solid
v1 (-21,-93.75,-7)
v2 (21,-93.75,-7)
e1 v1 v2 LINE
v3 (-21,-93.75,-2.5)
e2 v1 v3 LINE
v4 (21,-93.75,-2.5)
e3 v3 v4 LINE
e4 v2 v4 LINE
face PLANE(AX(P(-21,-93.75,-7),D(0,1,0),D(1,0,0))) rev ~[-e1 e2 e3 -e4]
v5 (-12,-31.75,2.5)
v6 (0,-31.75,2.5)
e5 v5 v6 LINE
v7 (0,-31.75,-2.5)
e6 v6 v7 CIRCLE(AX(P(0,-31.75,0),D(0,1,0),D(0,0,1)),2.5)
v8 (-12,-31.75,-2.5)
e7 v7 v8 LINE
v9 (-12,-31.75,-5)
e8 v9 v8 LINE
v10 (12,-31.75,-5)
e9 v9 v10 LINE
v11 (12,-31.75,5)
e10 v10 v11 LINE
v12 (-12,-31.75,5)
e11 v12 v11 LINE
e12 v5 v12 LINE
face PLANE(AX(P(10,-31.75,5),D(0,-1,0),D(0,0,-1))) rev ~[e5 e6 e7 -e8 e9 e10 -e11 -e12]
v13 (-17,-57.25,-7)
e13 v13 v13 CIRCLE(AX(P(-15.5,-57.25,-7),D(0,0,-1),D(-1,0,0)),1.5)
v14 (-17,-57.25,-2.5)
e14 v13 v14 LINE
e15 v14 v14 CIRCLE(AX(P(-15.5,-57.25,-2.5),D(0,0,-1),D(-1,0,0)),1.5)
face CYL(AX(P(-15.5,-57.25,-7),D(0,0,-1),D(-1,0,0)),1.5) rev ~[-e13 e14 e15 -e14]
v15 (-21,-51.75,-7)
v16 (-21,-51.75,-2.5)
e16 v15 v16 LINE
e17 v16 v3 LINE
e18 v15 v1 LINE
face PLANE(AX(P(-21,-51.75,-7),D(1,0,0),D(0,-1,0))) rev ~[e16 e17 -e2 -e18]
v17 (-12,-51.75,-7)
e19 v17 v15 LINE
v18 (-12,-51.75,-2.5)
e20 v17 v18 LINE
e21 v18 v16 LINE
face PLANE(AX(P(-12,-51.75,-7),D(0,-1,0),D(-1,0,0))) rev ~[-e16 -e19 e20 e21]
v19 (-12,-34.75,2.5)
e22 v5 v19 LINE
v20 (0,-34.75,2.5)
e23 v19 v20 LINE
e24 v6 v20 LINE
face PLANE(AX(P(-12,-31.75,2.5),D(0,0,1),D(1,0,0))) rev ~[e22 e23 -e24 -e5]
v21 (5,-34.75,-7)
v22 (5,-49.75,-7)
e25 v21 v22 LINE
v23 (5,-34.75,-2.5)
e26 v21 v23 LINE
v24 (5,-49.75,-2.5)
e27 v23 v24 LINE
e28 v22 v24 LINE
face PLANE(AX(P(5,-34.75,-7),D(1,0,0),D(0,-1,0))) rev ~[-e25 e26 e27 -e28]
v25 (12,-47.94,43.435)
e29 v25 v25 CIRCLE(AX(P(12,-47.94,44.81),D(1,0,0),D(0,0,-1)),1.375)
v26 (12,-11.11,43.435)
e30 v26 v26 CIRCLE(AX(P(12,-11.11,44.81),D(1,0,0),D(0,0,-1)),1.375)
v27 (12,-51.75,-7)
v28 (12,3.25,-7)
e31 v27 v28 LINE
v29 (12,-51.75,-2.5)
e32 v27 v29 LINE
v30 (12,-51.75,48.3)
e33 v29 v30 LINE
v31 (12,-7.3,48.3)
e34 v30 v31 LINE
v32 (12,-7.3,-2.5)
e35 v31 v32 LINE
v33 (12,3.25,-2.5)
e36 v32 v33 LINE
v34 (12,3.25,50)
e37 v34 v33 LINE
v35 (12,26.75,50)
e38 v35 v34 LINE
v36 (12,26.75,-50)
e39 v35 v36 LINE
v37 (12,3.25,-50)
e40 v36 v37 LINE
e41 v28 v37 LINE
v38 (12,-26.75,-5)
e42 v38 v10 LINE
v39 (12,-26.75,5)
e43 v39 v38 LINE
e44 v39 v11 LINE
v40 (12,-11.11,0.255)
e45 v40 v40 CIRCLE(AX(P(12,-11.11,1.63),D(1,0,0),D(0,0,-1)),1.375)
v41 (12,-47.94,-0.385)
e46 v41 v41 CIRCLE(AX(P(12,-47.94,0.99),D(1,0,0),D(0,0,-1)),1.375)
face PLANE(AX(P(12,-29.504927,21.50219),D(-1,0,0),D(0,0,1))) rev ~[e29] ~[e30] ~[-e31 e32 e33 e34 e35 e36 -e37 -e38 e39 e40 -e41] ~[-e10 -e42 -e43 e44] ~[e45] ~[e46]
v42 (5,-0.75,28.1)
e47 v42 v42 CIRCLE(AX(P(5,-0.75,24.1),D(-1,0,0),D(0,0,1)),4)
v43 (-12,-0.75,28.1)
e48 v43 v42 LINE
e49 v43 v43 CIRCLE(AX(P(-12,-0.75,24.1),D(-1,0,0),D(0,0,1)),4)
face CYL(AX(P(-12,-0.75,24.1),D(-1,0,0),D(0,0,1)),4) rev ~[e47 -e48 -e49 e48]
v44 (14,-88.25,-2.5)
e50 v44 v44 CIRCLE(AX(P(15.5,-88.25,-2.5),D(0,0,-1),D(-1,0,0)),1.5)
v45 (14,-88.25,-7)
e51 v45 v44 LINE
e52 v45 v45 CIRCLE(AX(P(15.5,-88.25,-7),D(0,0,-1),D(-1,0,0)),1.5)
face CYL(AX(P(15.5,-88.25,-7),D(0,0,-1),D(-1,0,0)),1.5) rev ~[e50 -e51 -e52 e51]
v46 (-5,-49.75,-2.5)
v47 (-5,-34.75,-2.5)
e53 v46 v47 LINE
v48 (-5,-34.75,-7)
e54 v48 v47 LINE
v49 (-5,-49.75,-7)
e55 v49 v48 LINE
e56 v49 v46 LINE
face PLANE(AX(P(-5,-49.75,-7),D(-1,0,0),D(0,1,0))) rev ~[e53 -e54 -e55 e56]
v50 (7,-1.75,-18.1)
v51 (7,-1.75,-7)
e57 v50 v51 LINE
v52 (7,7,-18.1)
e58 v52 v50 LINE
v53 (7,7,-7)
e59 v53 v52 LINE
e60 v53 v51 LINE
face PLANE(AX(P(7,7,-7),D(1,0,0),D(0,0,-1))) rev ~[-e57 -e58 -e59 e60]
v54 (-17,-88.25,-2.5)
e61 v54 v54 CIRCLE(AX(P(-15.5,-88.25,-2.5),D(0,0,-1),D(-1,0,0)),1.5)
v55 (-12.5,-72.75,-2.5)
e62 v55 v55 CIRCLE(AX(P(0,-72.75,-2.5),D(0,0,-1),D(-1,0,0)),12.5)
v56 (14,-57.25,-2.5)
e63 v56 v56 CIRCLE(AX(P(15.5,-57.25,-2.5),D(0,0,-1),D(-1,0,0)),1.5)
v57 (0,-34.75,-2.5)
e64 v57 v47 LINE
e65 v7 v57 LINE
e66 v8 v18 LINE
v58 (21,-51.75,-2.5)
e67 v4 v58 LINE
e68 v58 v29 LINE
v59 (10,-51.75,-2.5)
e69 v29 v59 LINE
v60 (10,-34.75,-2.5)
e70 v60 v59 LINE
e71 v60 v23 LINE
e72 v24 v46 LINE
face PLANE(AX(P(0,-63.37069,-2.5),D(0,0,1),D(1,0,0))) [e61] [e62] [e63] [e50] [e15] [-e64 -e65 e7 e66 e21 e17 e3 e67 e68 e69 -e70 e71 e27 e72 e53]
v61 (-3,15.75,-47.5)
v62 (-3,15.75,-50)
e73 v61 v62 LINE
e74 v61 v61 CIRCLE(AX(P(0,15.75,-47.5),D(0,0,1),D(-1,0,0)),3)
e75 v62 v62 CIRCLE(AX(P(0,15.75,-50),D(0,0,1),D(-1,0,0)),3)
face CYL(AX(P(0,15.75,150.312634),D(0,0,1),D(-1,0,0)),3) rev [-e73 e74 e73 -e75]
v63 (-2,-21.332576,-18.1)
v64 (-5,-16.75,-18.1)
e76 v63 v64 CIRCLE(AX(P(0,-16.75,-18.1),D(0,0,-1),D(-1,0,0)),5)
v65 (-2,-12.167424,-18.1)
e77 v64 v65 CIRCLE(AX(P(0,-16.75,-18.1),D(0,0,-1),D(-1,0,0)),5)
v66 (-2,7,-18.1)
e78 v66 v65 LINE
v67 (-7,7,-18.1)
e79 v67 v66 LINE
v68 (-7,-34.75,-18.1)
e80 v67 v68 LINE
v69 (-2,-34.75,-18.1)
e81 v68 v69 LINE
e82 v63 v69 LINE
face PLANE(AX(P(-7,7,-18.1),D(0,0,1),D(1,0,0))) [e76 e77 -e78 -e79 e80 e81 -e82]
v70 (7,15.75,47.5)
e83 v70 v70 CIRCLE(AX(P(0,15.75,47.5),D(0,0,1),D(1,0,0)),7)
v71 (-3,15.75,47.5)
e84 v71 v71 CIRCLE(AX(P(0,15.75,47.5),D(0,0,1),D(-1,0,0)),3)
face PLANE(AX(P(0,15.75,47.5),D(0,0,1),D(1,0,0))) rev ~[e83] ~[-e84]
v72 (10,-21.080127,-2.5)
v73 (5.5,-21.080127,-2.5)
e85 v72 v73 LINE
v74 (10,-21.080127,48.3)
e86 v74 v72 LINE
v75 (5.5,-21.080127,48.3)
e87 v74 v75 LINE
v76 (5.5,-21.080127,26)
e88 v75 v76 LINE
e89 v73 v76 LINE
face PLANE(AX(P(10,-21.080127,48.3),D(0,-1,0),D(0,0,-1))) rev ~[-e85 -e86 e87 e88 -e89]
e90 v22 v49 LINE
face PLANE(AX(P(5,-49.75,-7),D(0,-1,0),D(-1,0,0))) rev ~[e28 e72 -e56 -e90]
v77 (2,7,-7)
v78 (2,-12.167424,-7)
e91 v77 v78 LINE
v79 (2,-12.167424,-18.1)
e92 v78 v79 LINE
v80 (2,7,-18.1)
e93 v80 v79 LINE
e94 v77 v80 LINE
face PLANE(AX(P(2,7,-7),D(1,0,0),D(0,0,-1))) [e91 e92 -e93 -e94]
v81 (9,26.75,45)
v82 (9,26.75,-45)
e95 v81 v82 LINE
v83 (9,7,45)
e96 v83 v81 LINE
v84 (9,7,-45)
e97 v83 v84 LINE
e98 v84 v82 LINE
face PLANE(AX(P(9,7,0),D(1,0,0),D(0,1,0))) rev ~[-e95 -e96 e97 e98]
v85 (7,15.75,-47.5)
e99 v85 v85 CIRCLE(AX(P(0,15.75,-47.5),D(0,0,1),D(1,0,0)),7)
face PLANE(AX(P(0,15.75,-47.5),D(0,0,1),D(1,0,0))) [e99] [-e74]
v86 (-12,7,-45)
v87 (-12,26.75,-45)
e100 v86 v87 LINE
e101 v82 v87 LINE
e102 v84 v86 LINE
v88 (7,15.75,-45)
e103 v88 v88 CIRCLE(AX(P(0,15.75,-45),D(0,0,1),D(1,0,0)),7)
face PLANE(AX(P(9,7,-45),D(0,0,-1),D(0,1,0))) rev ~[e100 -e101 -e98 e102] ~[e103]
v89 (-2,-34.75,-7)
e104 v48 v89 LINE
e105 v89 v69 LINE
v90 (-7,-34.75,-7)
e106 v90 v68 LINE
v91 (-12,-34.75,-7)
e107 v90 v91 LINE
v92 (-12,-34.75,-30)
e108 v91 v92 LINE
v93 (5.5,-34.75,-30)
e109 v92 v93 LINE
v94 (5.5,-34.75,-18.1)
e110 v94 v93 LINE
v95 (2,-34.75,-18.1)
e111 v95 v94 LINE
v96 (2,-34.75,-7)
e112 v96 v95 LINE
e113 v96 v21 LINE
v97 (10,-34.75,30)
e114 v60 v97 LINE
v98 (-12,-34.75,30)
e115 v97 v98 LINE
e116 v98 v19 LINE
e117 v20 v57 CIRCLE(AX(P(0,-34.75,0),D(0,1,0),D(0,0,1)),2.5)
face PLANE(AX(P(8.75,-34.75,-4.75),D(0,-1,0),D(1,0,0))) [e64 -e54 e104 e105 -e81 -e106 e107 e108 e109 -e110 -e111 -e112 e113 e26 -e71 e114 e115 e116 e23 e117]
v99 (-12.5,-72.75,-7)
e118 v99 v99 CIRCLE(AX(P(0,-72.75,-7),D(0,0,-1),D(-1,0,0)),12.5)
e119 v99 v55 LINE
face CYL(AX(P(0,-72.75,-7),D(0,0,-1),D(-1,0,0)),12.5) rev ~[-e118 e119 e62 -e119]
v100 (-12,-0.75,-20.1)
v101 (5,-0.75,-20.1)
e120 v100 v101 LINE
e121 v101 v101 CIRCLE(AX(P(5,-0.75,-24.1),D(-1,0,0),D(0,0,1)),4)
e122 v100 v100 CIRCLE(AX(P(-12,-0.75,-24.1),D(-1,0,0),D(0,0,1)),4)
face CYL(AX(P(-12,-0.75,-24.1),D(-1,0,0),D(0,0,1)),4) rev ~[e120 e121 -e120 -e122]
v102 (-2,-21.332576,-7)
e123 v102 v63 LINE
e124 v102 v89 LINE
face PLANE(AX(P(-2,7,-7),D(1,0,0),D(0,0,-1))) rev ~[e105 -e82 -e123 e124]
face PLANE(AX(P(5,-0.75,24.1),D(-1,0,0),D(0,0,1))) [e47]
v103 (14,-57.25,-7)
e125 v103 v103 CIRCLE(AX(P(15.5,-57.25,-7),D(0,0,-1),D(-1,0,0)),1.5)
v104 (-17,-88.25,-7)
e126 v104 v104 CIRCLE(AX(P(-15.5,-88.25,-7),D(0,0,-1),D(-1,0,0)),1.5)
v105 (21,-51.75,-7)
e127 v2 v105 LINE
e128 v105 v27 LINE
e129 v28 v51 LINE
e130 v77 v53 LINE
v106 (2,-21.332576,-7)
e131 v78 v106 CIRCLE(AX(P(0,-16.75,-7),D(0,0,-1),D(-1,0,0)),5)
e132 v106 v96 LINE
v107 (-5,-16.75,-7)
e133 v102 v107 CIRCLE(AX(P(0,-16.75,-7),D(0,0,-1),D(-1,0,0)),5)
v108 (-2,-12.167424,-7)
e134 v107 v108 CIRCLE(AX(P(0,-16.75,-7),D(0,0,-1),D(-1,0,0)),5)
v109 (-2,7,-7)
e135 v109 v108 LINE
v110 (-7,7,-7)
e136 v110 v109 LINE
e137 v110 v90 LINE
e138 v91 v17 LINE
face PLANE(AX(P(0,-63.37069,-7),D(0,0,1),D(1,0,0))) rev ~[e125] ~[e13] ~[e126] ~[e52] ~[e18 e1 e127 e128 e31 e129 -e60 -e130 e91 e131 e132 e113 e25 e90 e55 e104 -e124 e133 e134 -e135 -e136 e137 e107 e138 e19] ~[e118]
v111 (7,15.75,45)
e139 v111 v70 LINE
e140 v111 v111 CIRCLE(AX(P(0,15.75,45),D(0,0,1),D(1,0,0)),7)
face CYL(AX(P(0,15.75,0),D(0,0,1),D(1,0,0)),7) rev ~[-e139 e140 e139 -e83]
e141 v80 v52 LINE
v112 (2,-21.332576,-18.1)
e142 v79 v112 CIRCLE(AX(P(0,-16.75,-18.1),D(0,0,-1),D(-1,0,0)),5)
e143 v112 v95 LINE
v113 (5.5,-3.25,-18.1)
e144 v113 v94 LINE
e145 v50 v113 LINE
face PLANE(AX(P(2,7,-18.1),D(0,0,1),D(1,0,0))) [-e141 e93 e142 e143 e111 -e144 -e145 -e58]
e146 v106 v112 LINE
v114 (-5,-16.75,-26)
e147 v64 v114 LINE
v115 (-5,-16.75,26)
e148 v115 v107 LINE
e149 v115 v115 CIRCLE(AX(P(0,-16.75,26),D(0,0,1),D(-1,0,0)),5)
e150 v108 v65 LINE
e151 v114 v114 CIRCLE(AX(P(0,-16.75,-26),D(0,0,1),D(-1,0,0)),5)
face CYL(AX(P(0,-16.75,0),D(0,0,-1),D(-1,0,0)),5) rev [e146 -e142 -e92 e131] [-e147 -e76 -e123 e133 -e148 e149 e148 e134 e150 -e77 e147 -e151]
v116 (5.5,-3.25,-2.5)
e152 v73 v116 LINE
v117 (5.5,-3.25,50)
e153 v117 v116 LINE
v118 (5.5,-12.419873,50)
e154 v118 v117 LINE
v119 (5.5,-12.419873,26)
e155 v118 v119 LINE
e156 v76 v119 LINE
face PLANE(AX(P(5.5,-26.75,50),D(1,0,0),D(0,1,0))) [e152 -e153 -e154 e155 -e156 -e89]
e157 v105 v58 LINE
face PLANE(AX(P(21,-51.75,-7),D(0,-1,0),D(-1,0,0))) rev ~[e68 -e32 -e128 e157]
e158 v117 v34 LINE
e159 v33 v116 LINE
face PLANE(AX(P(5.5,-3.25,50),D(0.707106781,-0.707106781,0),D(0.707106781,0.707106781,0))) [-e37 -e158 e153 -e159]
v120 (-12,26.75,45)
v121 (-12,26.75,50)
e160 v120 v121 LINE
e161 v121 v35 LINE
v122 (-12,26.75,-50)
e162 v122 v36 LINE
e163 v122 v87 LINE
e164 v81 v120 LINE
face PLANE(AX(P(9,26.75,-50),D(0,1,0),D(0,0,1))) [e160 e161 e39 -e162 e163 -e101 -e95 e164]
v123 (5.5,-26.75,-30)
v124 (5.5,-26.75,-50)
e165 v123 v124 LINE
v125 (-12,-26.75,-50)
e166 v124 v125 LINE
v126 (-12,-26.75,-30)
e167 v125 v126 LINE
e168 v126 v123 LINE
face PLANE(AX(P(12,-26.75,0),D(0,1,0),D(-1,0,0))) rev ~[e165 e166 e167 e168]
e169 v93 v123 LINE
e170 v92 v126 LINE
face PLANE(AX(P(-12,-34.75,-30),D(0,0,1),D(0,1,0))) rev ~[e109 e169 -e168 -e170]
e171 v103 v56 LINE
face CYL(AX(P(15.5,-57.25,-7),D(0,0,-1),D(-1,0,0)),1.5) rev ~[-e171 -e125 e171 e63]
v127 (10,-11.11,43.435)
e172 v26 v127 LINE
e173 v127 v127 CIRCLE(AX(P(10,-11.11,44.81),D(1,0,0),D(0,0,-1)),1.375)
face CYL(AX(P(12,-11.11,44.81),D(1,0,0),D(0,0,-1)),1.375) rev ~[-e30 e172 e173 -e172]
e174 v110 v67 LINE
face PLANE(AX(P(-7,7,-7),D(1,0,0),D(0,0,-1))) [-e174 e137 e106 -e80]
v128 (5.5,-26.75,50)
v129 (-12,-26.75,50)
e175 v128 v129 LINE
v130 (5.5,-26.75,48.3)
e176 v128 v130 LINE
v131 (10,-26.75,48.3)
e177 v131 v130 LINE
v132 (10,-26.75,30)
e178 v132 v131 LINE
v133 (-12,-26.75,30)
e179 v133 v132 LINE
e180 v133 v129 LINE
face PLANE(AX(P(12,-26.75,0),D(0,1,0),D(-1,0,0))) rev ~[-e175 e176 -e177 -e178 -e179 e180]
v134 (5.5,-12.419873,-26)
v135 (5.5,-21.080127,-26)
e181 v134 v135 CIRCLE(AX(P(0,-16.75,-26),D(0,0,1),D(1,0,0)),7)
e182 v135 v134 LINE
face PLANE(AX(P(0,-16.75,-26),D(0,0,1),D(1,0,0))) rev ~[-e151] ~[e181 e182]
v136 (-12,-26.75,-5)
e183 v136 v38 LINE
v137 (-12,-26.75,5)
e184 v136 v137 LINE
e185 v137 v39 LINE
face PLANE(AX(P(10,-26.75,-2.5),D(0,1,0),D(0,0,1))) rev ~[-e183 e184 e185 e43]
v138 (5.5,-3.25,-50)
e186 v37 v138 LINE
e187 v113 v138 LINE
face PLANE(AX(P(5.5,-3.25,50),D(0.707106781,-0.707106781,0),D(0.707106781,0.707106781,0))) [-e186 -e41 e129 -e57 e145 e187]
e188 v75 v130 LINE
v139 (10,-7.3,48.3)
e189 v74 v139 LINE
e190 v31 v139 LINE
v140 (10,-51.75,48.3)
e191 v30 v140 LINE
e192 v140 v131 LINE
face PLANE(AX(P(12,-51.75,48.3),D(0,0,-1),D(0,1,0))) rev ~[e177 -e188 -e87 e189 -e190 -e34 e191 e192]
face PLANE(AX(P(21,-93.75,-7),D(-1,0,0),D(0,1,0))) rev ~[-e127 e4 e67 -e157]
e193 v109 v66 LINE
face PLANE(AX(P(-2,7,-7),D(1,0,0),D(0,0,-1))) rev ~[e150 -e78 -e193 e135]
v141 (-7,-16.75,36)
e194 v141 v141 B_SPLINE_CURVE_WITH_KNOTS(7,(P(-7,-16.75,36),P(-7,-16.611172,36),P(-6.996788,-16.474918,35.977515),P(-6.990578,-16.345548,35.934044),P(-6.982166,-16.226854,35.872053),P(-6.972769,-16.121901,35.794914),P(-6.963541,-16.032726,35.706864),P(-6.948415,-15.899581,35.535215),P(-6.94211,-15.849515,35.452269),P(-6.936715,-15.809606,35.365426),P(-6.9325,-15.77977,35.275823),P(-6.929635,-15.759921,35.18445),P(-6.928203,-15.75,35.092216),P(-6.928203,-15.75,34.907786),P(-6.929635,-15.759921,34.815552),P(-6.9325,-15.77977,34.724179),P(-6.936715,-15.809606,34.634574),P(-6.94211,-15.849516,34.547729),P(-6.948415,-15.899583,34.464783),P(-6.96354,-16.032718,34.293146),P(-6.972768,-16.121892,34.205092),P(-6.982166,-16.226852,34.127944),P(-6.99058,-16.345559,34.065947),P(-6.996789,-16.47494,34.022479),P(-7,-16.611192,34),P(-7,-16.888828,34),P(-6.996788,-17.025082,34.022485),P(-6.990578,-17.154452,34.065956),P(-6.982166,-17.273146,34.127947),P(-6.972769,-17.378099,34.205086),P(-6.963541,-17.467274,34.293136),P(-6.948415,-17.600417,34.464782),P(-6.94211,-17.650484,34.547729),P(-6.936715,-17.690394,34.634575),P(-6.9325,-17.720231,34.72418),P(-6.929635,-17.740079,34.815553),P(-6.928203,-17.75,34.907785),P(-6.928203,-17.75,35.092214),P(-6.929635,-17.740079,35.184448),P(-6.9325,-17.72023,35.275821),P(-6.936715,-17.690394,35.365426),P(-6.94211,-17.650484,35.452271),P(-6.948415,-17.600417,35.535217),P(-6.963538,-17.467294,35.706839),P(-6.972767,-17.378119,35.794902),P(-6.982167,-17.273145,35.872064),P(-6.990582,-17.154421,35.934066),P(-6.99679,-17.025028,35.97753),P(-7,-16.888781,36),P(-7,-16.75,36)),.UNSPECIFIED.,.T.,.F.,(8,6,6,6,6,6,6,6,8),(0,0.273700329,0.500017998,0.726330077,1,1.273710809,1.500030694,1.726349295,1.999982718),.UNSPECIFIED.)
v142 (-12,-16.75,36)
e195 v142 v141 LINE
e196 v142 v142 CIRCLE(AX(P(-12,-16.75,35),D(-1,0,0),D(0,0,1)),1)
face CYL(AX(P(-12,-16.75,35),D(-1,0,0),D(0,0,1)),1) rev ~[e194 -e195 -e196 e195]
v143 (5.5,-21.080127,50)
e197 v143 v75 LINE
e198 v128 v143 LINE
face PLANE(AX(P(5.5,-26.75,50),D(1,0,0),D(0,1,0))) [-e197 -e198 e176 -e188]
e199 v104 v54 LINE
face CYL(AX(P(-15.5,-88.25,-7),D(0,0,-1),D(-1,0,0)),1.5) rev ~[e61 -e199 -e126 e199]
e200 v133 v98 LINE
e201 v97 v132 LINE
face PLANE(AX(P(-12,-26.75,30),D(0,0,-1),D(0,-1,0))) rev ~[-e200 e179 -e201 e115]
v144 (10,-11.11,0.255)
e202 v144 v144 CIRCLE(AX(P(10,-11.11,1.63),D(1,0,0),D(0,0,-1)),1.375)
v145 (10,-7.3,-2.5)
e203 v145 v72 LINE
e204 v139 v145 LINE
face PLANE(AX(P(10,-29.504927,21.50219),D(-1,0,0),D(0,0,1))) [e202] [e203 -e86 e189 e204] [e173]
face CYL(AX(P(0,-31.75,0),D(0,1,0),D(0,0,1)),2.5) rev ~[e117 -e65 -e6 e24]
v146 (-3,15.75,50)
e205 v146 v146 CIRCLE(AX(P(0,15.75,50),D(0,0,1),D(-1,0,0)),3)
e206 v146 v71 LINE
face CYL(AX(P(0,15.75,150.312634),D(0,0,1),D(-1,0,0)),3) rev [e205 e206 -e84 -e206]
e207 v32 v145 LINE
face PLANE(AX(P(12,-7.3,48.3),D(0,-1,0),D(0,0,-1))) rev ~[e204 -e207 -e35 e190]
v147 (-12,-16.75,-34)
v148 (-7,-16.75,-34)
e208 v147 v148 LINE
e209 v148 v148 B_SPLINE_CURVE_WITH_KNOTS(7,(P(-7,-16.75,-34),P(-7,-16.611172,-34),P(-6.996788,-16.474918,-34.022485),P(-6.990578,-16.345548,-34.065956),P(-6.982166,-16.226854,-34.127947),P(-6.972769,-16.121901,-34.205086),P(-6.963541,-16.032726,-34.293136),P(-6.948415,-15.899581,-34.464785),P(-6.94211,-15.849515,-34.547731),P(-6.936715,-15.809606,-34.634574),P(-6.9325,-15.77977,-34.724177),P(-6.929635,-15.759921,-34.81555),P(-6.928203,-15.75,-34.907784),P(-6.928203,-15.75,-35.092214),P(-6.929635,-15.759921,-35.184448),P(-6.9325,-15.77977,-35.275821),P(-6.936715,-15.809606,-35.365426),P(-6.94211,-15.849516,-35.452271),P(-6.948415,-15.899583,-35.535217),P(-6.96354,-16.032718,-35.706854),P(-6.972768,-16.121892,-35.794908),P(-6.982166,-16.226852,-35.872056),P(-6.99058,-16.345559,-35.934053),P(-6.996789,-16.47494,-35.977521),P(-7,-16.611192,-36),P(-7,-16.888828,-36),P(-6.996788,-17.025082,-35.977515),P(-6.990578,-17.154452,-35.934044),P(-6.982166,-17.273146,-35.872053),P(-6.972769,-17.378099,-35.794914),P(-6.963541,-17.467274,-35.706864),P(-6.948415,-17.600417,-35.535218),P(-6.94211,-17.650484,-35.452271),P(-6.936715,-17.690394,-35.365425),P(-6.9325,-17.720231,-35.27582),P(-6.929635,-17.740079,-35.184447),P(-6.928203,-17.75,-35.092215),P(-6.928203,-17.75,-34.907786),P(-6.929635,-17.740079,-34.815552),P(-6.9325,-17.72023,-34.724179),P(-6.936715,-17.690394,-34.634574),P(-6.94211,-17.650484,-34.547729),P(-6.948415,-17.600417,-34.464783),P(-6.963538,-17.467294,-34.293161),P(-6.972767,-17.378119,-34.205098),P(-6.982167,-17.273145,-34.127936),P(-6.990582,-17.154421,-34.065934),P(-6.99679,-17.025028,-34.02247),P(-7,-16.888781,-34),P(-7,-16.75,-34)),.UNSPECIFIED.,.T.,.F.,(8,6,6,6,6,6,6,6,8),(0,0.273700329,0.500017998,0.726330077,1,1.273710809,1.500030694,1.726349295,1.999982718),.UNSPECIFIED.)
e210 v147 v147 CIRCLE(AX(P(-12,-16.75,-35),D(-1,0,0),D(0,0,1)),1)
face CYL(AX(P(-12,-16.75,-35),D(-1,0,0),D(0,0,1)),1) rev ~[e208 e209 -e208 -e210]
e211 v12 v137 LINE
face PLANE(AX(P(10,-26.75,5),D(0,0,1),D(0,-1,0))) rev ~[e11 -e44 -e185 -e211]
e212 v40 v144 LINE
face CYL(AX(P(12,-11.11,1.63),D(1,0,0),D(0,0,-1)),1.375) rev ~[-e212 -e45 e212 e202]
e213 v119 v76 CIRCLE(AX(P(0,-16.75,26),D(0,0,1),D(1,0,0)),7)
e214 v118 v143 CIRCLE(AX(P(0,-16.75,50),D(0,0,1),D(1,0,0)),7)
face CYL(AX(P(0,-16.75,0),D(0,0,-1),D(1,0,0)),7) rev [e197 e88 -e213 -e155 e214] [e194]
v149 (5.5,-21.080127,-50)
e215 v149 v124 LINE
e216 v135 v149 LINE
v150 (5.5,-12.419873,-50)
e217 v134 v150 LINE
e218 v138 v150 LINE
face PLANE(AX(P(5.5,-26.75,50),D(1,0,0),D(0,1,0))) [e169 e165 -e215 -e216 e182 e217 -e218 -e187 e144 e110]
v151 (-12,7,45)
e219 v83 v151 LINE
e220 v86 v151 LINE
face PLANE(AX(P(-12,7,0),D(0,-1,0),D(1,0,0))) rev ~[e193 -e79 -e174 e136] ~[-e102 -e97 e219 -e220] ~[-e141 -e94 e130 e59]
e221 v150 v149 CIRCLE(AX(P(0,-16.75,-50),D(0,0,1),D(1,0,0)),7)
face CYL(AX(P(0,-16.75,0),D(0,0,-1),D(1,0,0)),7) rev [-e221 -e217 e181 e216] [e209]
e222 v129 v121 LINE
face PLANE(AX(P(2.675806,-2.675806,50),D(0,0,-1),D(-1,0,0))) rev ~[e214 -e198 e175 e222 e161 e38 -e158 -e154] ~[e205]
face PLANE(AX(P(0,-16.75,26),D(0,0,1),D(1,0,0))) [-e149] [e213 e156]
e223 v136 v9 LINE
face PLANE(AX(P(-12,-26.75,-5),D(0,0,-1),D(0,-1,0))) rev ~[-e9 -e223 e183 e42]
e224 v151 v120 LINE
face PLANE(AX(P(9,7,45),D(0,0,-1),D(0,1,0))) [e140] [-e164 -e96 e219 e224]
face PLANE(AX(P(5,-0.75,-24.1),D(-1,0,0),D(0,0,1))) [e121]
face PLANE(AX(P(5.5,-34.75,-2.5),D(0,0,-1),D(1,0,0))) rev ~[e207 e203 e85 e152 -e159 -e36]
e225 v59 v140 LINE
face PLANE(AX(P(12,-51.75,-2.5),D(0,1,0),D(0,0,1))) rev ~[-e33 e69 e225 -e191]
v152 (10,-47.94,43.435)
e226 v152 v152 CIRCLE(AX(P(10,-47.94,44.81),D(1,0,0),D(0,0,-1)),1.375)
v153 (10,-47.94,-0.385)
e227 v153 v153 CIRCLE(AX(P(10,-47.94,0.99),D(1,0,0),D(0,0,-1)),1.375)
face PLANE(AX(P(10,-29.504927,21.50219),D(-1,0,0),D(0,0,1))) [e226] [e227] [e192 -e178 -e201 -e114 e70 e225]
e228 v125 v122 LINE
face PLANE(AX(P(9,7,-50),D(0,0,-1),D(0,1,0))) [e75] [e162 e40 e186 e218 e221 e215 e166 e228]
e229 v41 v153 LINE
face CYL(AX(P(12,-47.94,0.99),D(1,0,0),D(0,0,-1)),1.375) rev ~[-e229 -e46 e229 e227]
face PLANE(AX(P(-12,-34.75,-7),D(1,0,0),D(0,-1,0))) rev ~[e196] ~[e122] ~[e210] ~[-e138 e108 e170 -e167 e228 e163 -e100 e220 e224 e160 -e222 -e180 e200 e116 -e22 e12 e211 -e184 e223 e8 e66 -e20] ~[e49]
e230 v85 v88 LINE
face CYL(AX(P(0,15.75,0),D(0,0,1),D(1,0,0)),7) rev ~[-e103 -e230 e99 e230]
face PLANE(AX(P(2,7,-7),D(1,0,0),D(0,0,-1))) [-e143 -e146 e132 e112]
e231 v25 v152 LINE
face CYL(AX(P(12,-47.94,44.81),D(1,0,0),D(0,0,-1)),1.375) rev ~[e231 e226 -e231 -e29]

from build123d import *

# Parameters (mm, degrees)
SKETCH1_R               = 7
BOSS_EXTRUDE1_DEPTH     = 50
SKETCH2_R               = 4
CUT_EXTRUDE1_DEPTH      = 17
SKETCH3_W               = 5
SKETCH3_H               = 19.75
BOSS_EXTRUDE2_DEPTH     = 21
SKETCH4_R               = 7
CUT_EXTRUDE4_DEPTH      = 47.5
SKETCH6_R               = 7
SKETCH6_R_2             = 5
BOSS_EXTRUDE3_DEPTH     = 26
CUT_EXTRUDE5_REACH      = 63.576
CUT_EXTRUDE5_END_RADIUS = 7
SKETCH7_R               = 1
CUT_EXTRUDE6_DEPTH      = 102.812634392
CUT_EXTRUDE6_DEPTH_BACK = 102.812634392
SKETCH8_R               = 3
CUT_EXTRUDE7_DEPTH      = 105.209224747
BOSS_EXTRUDE4_DEPTH     = 17.5
CUT_EXTRUDE8_DEPTH      = 78.886134918
SKETCH12_W              = 5
SKETCH12_H              = 11.1
CUT_EXTRUDE9_DEPTH      = 67.234904034
BOSS_EXTRUDE5_REACH     = 82.164
SKETCH13_W              = 6.5
SKETCH13_H              = 4.5
SKETCH14_W              = 2.5
SKETCH14_H              = 5
CUT_EXTRUDE10_DEPTH     = 64.354656605
SKETCH16_R              = 12.5
SKETCH16_R_2            = 1.5
BOSS_EXTRUDE8_DEPTH     = 4.5
SKETCH18_R              = 1.375
BOSS_EXTRUDE9_DEPTH     = 2
BOSS_EXTRUDE10_REACH    = 112.68


with BuildPart() as part:
    # Sketch1 → Boss-Extrude1 (new, symmetric)
    with BuildSketch(Plane.XY):
        Polygon((-12, 7), (9, 7), (9, 26.75), (12, 26.75), (12, -26.75), (-12, -26.75), align=None)
        with Locations((0, -16.75)):
            Circle(SKETCH1_R, mode=Mode.SUBTRACT)
    extrude(amount=BOSS_EXTRUDE1_DEPTH, both=True)

    # Sketch2 → Cut-Extrude1 (cut)
    with BuildSketch(Plane.ZY.offset(12)):
        with Locations((-24.1, -0.75)):
            Circle(SKETCH2_R)
        with Locations((24.1, -0.75)):
            Circle(SKETCH2_R)
    extrude(amount=-CUT_EXTRUDE1_DEPTH, mode=Mode.SUBTRACT)

    # Sketch3 → Boss-Extrude2 (add, through all)
    with BuildSketch(Plane.ZY.offset(-9)):
        with Locations((-47.5, 16.875)):
            Rectangle(SKETCH3_W, SKETCH3_H)
        with Locations((47.5, 16.875)):
            Rectangle(SKETCH3_W, SKETCH3_H)
    extrude(amount=BOSS_EXTRUDE2_DEPTH)

    # Sketch4 → Cut-Extrude4 (cut, symmetric)
    with BuildSketch(Plane.XY):
        with Locations((0, 15.75)):
            Circle(SKETCH4_R)
    extrude(amount=CUT_EXTRUDE4_DEPTH, both=True, mode=Mode.SUBTRACT)

    # Sketch6 → Boss-Extrude3 (add, symmetric)
    with BuildSketch(Plane.XY):
        with Locations((0, -16.75)):
            Circle(SKETCH6_R)
        with Locations(Location((0, -16.75, 0), (0, 0, 180))):
            Circle(SKETCH6_R_2, mode=Mode.SUBTRACT)
    extrude(amount=BOSS_EXTRUDE3_DEPTH, both=True)

    # Cut-Extrude5: up to this cylinder (the profile starts outside it)
    cut_extrude5_end = Plane(origin=(0, -16.75, 0), z_dir=(0, 0, -1)) * Cylinder(CUT_EXTRUDE5_END_RADIUS, 212.152, mode=Mode.PRIVATE)
    # Sketch7 → Cut-Extrude5 (cut, up to the surface)
    with BuildSketch(Plane.ZY.offset(12), mode=Mode.PRIVATE) as cut_extrude5_sk1:
        with Locations((-35, -16.75)):
            Circle(SKETCH7_R)
    cut_extrude5_tool1 = extrude(cut_extrude5_sk1.sketch, amount=-CUT_EXTRUDE5_REACH, mode=Mode.PRIVATE) - cut_extrude5_end
    add(cut_extrude5_tool1.solids().sort_by_distance((-12, -16.75, -35))[0], mode=Mode.SUBTRACT)
    # Sketch7 → Cut-Extrude5 (cut, up to the surface)
    with BuildSketch(Plane.ZY.offset(12), mode=Mode.PRIVATE) as cut_extrude5_sk2:
        with Locations((35, -16.75)):
            Circle(SKETCH7_R)
    cut_extrude5_tool2 = extrude(cut_extrude5_sk2.sketch, amount=-CUT_EXTRUDE5_REACH, mode=Mode.PRIVATE) - cut_extrude5_end
    add(cut_extrude5_tool2.solids().sort_by_distance((-12, -16.75, 35))[0], mode=Mode.SUBTRACT)

    # Sketch8 → Cut-Extrude6 (cut, two sides: drawn at the far end of the back side and taken through both)
    with BuildSketch(Plane(origin=(0, 0, 47.5), x_dir=(-1, 0, 0), z_dir=(0, 0, -1)).offset(-CUT_EXTRUDE6_DEPTH_BACK)):
        with Locations((0, 15.75)):
            Circle(SKETCH8_R)
    extrude(amount=CUT_EXTRUDE6_DEPTH + CUT_EXTRUDE6_DEPTH_BACK, mode=Mode.SUBTRACT)

    # Sketch9 → Cut-Extrude7 (cut, through all)
    with BuildSketch(Plane.XY.offset(50)):
        Polygon((5.5, -3.25), (12, 3.25), (12, -26.75), (5.5, -26.75), align=None)
    extrude(amount=-CUT_EXTRUDE7_DEPTH, mode=Mode.SUBTRACT)

    # Sketch10 → Boss-Extrude4 (add)
    with BuildSketch(Plane.ZY.offset(12)):
        Polygon((-5, -26.75), (-5, -31.75), (5, -31.75), (5, -26.75), (30, -26.75), (30, -34.75), (-30, -34.75), (-30, -26.75), align=None)
    extrude(amount=-BOSS_EXTRUDE4_DEPTH)

    # Sketch11 → Cut-Extrude8 (cut, through all)
    with BuildSketch(Plane(origin=(0, -31.75, 0), x_dir=(1, 0, 0), z_dir=(0, 1, 0))):
        with BuildLine():
            Line((0, 2.5), (-12, 2.5))
            Line((-12, 2.5), (-12, -2.5))
            Line((-12, -2.5), (0, -2.5))
            ThreePointArc((0, -2.5), (2.5, 0), (0, 2.5))
        make_face()
    extrude(amount=-CUT_EXTRUDE8_DEPTH, mode=Mode.SUBTRACT)

    # Sketch12 → Cut-Extrude9 (cut, through all)
    with BuildSketch(Plane(origin=(0, 7, 0), x_dir=(1, 0, 0), z_dir=(0, 1, 0))):
        with Locations((4.5, 12.55)):
            Rectangle(SKETCH12_W, SKETCH12_H)
        with Locations((-4.5, 12.55)):
            Rectangle(SKETCH12_W, SKETCH12_H)
    extrude(amount=-CUT_EXTRUDE9_DEPTH, mode=Mode.SUBTRACT)

    # Sketch13 → Boss-Extrude5 (add, up to next)
    with BuildSketch(Plane.XZ.offset(34.75), mode=Mode.PRIVATE) as boss_extrude5_sk1:
        with Locations((8.75, -4.75)):
            Rectangle(SKETCH13_W, SKETCH13_H)
    boss_extrude5_tool1 = extrude(boss_extrude5_sk1.sketch, amount=-BOSS_EXTRUDE5_REACH, mode=Mode.PRIVATE) - part.part
    add(boss_extrude5_tool1.solids().sort_by_distance((8.75, -34.75, -4.75))[0])

    # Sketch14 → Cut-Extrude10 (cut, through all)
    with BuildSketch(Plane.ZY.offset(-5.5)):
        with Locations((-3.75, -29.25)):
            Rectangle(SKETCH14_W, SKETCH14_H)
    extrude(amount=-CUT_EXTRUDE10_DEPTH, mode=Mode.SUBTRACT)

    # Sketch16 → Boss-Extrude8 (add)
    with BuildSketch(Plane(origin=(0, 0, -7), x_dir=(-1, 0, 0), z_dir=(0, 0, -1))):
        Polygon((-12, -34.75), (-5, -34.75), (-5, -49.75), (5, -49.75), (5, -34.75), (12, -34.75), (12, -51.75), (21, -51.75), (21, -93.75), (-21, -93.75), (-21, -51.75), (-12, -51.75), align=None)
        with Locations((0, -72.75)):
            Circle(SKETCH16_R, mode=Mode.SUBTRACT)
        with Locations((-15.5, -57.25)):
            Circle(SKETCH16_R_2, mode=Mode.SUBTRACT)
        with Locations((15.5, -57.25)):
            Circle(SKETCH16_R_2, mode=Mode.SUBTRACT)
        with Locations((15.5, -88.25)):
            Circle(SKETCH16_R_2, mode=Mode.SUBTRACT)
        with Locations((-15.5, -88.25)):
            Circle(SKETCH16_R_2, mode=Mode.SUBTRACT)
    extrude(amount=-BOSS_EXTRUDE8_DEPTH)

    # Sketch18 → Boss-Extrude9 (add)
    with BuildSketch(Plane(origin=(12, 0, 0), x_dir=(0, 0, -1), z_dir=(1, 0, 0))):
        Polygon((2.5, -51.75), (-48.3, -51.75), (-48.3, -7.3), (2.5, -7.3), (2.5, -26.75), (-5, -26.75), (-5, -31.75), (2.5, -31.75), align=None)
        with Locations((-44.81, -11.11)):
            Circle(SKETCH18_R, mode=Mode.SUBTRACT)
        with Locations((-0.99, -47.94)):
            Circle(SKETCH18_R, mode=Mode.SUBTRACT)
        with Locations((-44.81, -47.94)):
            Circle(SKETCH18_R, mode=Mode.SUBTRACT)
        with Locations((-1.63, -11.11)):
            Circle(SKETCH18_R, mode=Mode.SUBTRACT)
    extrude(amount=-BOSS_EXTRUDE9_DEPTH)

    # Sketch20 → Boss-Extrude10 (add, up to next)
    with BuildSketch(Plane.ZY.offset(-10), mode=Mode.PRIVATE) as boss_extrude10_sk1:
        Polygon((-2.5, -31.75), (-2.5, -34.75), (30, -34.75), (30, -26.75), (48.3, -26.75), (48.3, -21.080127019), (-2.5, -21.080127019), (-2.5, -26.75), (5, -26.75), (5, -31.75), align=None)
    boss_extrude10_tool1 = extrude(boss_extrude10_sk1.sketch, amount=BOSS_EXTRUDE10_REACH, mode=Mode.PRIVATE) - part.part
    add(boss_extrude10_tool1.solids().sort_by_distance((10, -27.004059, 19.830393))[0])


solid = part.part
